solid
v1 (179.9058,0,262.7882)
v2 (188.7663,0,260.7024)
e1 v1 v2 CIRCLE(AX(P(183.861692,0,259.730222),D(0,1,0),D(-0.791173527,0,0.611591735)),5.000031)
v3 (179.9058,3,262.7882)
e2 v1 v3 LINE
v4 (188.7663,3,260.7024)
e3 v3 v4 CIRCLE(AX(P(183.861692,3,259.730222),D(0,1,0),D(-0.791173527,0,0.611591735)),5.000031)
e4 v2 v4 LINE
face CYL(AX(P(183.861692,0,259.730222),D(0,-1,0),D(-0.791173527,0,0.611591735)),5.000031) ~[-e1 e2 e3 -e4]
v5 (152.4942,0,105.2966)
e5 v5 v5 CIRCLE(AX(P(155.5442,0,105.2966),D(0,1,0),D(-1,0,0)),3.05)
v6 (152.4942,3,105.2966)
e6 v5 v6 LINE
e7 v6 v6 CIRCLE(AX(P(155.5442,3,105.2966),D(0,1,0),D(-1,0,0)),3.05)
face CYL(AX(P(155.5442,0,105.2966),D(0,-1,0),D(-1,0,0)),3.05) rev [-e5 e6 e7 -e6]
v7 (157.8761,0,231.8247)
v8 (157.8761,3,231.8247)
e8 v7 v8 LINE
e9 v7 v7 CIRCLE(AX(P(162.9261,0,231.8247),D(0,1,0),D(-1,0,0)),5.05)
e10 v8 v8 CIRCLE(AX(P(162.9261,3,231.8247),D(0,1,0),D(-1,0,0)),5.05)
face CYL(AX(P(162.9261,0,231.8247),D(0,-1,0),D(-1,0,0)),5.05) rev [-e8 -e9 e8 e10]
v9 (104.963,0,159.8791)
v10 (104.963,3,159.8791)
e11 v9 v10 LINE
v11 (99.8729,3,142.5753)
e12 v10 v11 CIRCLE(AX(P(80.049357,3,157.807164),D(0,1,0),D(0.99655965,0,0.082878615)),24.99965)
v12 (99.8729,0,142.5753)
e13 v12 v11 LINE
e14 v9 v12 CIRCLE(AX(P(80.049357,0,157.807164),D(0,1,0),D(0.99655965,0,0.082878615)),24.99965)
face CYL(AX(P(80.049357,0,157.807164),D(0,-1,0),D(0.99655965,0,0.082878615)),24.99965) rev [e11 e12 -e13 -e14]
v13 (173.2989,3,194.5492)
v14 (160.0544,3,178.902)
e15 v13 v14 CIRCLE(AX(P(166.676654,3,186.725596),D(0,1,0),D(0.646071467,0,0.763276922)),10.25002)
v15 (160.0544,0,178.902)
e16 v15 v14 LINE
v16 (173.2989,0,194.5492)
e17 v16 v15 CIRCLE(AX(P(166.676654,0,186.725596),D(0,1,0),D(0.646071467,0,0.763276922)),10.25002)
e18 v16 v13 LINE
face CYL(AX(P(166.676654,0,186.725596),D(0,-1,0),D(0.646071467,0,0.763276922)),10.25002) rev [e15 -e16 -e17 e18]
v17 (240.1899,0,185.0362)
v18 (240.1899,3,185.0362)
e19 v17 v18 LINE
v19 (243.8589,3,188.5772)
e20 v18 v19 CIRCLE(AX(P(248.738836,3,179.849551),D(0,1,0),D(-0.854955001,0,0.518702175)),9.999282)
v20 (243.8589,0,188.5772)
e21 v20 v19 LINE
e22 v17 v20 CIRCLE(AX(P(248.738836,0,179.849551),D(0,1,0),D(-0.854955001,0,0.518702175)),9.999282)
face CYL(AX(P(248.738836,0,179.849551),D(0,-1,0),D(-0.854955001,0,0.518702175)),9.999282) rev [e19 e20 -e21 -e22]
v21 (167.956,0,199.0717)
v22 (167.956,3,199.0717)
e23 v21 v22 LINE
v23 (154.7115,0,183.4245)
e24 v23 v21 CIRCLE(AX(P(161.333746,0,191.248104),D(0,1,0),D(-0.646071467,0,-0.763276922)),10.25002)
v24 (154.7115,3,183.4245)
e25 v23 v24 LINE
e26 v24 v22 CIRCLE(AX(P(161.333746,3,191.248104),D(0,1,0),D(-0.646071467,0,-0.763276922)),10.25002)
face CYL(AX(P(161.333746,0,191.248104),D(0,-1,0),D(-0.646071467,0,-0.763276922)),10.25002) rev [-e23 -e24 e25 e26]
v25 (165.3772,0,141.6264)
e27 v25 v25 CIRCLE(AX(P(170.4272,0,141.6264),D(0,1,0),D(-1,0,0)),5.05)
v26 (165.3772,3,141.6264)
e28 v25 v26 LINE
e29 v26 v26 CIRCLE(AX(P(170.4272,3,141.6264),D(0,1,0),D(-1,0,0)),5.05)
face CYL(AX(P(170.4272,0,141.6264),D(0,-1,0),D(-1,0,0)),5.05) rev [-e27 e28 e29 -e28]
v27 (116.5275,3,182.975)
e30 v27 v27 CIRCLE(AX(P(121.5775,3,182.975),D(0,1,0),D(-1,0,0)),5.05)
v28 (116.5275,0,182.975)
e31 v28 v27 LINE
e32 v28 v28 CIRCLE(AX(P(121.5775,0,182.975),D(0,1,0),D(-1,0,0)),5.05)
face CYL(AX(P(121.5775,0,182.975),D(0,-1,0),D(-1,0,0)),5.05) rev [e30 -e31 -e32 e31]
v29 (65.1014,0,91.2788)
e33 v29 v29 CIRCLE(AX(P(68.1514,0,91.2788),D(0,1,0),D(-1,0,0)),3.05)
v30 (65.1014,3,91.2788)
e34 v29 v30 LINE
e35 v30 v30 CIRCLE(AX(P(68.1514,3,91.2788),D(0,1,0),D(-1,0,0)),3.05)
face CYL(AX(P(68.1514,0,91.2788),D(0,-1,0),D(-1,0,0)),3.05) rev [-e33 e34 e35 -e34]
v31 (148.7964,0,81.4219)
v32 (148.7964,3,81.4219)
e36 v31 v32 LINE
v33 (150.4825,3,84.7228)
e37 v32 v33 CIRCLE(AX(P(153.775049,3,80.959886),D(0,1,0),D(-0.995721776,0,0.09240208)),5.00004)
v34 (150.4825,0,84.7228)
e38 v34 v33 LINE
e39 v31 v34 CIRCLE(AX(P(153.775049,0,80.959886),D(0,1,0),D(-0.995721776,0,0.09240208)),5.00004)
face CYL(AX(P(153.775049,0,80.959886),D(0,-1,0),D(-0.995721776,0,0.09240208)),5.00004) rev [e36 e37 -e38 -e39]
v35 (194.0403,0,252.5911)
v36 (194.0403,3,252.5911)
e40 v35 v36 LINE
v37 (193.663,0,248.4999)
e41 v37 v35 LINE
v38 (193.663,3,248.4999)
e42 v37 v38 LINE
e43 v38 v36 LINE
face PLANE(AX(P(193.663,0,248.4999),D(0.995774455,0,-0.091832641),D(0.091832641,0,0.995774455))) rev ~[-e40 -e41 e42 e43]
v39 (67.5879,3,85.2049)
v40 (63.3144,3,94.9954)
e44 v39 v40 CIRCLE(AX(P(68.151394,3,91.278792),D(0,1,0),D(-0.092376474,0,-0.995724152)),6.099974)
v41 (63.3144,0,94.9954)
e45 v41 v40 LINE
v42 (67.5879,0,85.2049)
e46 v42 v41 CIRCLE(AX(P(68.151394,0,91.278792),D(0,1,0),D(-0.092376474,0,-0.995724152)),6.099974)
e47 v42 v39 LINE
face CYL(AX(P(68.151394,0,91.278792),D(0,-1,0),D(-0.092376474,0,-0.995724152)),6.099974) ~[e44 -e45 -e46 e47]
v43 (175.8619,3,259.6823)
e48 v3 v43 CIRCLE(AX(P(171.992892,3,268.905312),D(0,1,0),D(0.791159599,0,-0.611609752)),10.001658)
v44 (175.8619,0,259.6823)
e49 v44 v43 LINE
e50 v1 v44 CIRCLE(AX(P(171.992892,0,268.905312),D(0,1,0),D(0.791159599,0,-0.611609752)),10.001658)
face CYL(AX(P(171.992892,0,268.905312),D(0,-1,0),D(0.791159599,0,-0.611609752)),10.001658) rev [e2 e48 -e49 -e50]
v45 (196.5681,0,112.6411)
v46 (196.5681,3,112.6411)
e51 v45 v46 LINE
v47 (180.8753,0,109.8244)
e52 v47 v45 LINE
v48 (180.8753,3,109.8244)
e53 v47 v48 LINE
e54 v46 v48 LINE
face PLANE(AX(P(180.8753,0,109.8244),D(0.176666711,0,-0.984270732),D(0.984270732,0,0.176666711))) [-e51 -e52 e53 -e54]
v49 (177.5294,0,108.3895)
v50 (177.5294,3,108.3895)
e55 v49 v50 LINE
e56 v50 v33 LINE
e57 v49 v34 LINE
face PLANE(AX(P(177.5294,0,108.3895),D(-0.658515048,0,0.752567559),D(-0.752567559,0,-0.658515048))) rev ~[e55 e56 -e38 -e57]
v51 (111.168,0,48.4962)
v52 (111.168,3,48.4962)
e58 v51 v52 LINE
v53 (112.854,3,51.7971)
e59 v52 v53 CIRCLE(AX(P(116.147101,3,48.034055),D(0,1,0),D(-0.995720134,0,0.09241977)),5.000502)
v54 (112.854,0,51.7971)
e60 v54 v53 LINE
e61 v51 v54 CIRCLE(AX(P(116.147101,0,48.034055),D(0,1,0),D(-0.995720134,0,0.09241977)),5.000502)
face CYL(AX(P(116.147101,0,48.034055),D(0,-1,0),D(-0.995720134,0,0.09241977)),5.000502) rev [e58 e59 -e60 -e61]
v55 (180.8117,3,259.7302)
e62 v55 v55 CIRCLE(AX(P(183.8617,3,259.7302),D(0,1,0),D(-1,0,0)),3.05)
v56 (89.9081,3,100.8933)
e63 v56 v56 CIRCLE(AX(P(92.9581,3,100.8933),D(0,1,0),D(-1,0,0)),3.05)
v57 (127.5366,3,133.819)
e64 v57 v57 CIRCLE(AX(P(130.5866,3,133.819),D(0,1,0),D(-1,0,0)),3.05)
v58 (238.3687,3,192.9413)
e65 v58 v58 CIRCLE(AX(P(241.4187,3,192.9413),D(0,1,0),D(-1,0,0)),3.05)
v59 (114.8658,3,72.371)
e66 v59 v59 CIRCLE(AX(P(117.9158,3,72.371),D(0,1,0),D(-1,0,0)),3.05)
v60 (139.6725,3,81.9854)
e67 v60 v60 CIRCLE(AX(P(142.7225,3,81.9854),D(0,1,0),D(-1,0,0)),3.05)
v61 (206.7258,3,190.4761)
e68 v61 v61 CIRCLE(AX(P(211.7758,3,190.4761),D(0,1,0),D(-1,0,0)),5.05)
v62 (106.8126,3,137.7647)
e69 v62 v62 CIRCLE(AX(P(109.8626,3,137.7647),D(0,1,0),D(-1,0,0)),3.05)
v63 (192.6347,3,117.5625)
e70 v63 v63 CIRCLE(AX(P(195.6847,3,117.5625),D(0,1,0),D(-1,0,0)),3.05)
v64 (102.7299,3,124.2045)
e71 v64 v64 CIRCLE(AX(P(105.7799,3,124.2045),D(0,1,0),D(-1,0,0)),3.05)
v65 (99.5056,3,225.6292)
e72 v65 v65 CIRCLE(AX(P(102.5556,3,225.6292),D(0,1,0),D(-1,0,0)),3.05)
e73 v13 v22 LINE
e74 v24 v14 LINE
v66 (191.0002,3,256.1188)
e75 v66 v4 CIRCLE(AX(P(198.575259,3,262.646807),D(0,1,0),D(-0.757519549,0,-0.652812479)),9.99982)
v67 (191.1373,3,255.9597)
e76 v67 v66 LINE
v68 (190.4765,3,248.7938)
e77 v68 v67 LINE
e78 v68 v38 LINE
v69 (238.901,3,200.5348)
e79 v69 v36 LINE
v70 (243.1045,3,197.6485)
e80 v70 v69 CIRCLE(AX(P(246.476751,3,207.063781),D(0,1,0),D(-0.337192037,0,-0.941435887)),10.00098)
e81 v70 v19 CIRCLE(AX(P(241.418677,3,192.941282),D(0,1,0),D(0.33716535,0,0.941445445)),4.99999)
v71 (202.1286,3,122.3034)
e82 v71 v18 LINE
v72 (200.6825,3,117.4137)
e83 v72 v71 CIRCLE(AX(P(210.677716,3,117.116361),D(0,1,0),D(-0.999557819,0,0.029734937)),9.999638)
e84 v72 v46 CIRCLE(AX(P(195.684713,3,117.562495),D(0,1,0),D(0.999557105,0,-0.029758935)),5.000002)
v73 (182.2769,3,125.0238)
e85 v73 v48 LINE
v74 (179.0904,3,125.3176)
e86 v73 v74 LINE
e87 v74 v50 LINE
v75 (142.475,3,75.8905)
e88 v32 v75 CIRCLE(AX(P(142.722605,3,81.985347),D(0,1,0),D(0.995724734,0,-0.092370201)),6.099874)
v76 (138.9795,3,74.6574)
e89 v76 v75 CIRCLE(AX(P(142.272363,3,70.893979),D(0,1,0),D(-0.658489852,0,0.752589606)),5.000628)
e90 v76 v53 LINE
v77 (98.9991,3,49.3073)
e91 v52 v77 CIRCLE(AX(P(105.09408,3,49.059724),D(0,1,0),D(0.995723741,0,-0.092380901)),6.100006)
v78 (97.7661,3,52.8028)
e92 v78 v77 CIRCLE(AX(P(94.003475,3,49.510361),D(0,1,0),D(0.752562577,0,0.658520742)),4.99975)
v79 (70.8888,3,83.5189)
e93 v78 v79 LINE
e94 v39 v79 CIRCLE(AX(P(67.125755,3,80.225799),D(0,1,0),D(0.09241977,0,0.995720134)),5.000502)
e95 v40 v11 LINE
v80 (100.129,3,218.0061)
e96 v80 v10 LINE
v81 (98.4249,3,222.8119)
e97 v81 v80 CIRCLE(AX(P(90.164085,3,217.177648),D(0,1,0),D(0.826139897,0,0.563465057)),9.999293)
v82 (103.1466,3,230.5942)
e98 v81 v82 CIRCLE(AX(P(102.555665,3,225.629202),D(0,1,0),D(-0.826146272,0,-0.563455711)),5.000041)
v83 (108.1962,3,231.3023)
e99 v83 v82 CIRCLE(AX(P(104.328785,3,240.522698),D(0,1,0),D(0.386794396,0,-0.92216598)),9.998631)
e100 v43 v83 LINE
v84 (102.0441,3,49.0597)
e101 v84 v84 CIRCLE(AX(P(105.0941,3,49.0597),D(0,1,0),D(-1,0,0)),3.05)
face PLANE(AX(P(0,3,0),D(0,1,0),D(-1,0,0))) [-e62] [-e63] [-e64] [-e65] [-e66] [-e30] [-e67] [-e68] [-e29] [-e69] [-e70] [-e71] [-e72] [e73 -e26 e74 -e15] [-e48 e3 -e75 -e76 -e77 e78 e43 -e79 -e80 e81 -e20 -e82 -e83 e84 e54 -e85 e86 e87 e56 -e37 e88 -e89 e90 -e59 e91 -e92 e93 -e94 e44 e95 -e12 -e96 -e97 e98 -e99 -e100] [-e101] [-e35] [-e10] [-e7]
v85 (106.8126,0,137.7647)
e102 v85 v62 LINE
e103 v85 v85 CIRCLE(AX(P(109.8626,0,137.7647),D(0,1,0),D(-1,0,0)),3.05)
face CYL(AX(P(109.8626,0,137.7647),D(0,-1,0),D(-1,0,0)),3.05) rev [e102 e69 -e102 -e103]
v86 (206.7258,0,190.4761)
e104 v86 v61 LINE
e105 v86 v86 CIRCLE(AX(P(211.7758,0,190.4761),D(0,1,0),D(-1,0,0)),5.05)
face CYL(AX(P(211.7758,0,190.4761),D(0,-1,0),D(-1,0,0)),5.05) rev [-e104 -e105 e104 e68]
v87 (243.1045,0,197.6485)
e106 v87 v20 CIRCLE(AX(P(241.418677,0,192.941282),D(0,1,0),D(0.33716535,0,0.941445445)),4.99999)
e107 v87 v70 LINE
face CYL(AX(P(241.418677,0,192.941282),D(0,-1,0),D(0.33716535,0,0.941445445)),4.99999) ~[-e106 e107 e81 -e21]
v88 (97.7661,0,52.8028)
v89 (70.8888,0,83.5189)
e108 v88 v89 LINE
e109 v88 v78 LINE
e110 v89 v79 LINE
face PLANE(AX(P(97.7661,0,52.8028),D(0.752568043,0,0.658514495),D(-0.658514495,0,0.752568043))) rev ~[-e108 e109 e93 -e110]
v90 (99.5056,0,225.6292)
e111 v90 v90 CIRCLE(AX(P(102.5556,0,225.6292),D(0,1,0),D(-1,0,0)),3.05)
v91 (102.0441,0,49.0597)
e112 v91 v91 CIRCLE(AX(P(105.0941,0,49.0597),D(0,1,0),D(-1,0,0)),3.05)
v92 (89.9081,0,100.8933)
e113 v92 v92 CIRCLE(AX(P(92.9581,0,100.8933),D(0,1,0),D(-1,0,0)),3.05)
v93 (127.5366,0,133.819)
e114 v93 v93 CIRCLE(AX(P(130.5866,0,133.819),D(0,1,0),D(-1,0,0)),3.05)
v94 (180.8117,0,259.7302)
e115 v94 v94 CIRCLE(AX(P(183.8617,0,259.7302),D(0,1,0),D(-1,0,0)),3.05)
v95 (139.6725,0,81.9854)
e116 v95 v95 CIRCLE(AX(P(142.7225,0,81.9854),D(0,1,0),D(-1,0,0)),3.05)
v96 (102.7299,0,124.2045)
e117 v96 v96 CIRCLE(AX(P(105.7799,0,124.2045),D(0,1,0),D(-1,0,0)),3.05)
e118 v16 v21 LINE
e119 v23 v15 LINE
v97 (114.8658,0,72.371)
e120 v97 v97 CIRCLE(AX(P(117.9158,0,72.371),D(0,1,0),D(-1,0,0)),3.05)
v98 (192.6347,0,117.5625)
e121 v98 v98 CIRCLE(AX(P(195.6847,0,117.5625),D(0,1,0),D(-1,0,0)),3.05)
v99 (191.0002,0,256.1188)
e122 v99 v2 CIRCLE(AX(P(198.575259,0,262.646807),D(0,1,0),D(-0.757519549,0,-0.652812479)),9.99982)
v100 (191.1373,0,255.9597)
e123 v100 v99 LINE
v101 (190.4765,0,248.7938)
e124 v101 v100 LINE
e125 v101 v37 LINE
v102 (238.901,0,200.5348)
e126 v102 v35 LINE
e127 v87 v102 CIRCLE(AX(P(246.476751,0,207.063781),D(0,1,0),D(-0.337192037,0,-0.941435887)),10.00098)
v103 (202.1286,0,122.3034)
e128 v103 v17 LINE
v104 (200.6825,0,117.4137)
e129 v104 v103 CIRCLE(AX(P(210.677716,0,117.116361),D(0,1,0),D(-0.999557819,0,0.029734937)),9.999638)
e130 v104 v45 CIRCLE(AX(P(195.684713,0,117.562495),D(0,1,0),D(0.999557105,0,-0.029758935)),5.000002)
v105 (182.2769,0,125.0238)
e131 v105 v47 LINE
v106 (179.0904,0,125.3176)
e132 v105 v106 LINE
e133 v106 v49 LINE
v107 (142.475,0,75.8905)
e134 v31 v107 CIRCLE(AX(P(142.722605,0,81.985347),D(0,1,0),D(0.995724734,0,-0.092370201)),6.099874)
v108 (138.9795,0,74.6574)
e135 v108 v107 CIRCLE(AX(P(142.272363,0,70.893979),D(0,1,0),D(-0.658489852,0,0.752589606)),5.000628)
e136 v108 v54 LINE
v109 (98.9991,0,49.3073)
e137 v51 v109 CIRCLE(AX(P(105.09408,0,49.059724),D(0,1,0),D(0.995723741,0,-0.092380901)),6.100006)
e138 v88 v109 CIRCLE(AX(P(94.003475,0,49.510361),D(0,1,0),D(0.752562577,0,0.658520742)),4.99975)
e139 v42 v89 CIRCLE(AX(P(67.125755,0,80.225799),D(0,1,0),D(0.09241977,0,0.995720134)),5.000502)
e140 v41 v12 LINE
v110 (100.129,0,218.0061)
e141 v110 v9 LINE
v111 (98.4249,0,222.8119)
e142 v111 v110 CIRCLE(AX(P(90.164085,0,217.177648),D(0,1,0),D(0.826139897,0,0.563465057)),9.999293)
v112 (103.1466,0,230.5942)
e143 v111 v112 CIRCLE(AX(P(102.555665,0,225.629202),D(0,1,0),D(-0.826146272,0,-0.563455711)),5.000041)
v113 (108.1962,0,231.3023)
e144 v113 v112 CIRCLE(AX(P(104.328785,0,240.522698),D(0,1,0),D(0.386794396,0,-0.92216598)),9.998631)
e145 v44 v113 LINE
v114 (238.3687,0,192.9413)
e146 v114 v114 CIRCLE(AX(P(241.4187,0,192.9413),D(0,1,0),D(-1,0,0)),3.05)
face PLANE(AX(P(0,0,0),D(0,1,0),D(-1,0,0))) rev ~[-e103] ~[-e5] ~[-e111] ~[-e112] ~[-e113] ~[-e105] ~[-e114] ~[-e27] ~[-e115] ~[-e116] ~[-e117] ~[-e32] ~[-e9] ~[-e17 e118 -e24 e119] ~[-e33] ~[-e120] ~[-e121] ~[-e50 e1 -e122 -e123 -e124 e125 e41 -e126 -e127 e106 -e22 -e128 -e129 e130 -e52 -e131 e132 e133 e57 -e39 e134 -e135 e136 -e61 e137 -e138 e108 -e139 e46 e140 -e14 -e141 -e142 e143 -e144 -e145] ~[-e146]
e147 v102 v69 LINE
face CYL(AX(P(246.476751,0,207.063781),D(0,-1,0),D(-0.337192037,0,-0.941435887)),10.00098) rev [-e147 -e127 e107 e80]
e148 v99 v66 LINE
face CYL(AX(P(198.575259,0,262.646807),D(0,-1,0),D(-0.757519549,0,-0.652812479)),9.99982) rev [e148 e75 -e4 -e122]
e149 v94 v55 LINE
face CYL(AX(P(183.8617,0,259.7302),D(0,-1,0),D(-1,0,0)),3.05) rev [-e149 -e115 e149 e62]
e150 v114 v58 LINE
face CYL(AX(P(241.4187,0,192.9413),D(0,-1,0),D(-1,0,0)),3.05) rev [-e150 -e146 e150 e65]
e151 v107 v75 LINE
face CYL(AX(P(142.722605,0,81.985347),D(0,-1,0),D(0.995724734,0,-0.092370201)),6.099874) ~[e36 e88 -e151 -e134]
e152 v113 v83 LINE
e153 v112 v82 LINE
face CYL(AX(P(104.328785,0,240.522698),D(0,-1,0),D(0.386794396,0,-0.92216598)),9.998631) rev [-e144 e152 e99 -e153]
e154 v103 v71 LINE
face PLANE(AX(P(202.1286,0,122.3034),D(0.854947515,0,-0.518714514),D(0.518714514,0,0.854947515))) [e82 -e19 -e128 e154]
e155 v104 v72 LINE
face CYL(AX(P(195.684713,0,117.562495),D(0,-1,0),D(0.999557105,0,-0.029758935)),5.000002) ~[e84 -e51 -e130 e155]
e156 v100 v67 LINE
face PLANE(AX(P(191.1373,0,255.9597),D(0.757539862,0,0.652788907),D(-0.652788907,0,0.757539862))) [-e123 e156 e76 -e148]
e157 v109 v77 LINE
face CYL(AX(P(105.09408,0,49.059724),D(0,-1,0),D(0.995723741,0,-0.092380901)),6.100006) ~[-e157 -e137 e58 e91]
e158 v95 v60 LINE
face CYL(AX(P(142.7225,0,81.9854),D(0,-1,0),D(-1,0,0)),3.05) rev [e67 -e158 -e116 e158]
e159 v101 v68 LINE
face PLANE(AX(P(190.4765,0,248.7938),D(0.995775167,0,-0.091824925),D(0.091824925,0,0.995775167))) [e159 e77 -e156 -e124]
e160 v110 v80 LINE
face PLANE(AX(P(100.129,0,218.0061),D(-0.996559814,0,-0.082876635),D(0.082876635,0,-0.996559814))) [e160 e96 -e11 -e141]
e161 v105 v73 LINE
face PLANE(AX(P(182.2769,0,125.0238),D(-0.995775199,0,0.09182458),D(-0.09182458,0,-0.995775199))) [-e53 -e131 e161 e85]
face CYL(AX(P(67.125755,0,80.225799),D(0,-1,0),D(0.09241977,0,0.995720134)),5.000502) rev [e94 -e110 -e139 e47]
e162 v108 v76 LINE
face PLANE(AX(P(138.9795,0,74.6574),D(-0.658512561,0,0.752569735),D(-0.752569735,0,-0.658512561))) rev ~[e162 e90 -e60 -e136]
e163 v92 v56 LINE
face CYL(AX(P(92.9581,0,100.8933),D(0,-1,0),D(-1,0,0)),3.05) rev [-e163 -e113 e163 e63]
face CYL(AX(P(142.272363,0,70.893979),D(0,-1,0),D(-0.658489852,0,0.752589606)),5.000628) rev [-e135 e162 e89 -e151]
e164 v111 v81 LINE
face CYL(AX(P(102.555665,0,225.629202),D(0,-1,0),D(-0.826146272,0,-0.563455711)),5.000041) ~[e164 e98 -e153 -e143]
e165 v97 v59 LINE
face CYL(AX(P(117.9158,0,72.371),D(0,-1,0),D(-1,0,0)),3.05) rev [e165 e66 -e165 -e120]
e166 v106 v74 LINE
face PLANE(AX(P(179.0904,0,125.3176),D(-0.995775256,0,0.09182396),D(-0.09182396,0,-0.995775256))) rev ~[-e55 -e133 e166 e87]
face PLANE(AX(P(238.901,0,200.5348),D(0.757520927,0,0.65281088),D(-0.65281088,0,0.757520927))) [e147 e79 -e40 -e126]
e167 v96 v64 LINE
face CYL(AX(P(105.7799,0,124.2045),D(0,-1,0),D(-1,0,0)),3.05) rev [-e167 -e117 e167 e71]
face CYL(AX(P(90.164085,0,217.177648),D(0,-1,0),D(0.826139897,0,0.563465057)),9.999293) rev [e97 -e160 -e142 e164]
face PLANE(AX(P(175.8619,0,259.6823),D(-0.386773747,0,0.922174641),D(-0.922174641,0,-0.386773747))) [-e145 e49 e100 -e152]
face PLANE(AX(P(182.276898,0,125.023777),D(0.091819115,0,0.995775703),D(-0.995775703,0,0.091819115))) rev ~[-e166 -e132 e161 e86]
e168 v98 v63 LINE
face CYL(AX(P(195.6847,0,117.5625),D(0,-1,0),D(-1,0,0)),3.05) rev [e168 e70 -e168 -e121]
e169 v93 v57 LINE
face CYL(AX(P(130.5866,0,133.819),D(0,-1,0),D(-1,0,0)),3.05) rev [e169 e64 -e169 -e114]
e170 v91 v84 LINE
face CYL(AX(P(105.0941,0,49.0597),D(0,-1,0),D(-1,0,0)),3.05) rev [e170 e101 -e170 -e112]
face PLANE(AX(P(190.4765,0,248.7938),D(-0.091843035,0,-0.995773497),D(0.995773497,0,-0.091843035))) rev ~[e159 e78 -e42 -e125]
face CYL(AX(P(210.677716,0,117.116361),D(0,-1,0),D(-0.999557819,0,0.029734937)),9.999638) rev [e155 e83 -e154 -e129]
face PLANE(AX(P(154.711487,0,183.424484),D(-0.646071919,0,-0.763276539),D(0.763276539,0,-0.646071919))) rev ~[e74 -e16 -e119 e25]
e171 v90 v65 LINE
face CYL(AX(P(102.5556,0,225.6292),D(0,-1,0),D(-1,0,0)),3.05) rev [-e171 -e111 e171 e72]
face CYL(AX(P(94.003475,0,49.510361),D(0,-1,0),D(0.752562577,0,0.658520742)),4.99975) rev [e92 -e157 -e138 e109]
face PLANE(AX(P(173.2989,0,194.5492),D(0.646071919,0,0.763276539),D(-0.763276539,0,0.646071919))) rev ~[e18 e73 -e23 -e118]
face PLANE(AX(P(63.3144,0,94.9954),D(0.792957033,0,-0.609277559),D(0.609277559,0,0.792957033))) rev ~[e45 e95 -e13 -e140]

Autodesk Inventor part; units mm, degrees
ref_plane "YZ Plane" through (0, 0, 0) normal (1, 0, 0) x (0, 1, 0)
ref_plane "XZ Plane" through (0, 0, 0) normal (0, 1, 0) x (-1, 0, 0)
ref_plane "XY Plane" through (0, 0, 0) normal (0, 0, 1) x (1, 0, 0)
sketch "Эскиз1" plane through (0, 0, 0) normal (0, 1, 0) x (-1, 0, 0)
  circle A0 centre (-102.5556, 225.6292) radius 3.05
  circle A1 centre (-183.8617, 259.7302) radius 3.05
  circle A2 centre (-241.4187, 192.9413) radius 3.05
  circle A3 centre (-195.6847, 117.5625) radius 3.05
  circle A4 centre (-109.8626, 137.7647) radius 3.05
  line L0 (-177.5294, 108.3895) -> (-150.4825, 84.7228) projected
  arc A5 (-148.7964, 81.4219) -> (-142.475, 75.8905) centre (-142.7225, 81.9854) ccw projected
  line L1 (-138.9795, 74.6574) -> (-112.854, 51.7971) projected
  arc A6 (-111.168, 48.4962) -> (-98.9991, 49.3073) centre (-105.0941, 49.0597) ccw projected
  line L2 (-97.7661, 52.8028) -> (-70.8888, 83.5189) projected
  arc A7 (-67.5879, 85.2049) -> (-63.3144, 94.9954) centre (-68.1514, 91.2788) ccw projected
  line L3 (-63.3144, 94.9954) -> (-108.3131, 153.5599) projected
  arc A8 (-154.5301, 238.9315) -> (-170.0329, 240.2208) centre (-162.9261, 231.8247) ccw projected
  line L4 (-186.8375, 143.9878) -> (-185.285, 127.1516) projected
  arc A9 (-185.285, 127.1516) -> (-183.1128, 124.9467) centre (-183.2964, 126.9383) ccw projected
  line L5 (-183.1128, 124.9467) -> (-179.0904, 125.3176) projected
  line L6 (-179.0904, 125.3176) -> (-177.5294, 108.3895) projected
  circle A10 centre (-117.9158, 72.371) radius 3.05 projected
  circle A11 centre (-155.5442, 105.2966) radius 3.05 projected
  circle A12 centre (-130.5866, 133.819) radius 3.05 projected
  circle A13 centre (-105.7799, 124.2045) radius 3.05 projected
  circle A14 centre (-92.9581, 100.8933) radius 3.05 projected
  circle A15 centre (-162.9261, 231.8247) radius 5.05 projected
  circle A16 centre (-121.5775, 182.975) radius 5.05 projected
  circle A17 centre (-105.0941, 49.0597) radius 3.05 projected
  circle A18 centre (-142.7225, 81.9854) radius 3.05 projected
  circle A19 centre (-68.1514, 91.2788) radius 3.05 projected
  line L7 (-182.2769, 125.0238) -> (-180.8753, 109.8244)
  arc A20 (-179.9058, 262.7882) -> (-188.7663, 260.7024) centre (-183.8617, 259.7302) ccw
  arc A21 (-98.4249, 222.8119) -> (-103.1466, 230.5942) centre (-102.5556, 225.6292) ccw
  arc A22 (-200.6825, 117.4137) -> (-196.2371, 112.5931) centre (-195.6847, 117.5625) ccw
  arc A23 (-243.1045, 197.6485) -> (-243.8589, 188.5772) centre (-241.4187, 192.9413) ccw
  line L8 (-180.8753, 109.8244) -> (-196.5681, 112.6411)
  circle A24 centre (-166.6767, 186.7256) radius 85 construction
  line L9 (-99.8729, 142.5753) -> (-63.3144, 94.9954)
  arc A25 (-104.963, 159.8791) -> (-99.8729, 142.5753) centre (-80.049, 157.8072) ccw
  line L10 (-196.2294, 112.5804) -> (-196.2371, 112.5931)
  line L11 (-202.1286, 122.3034) -> (-240.1899, 185.0362)
  line L12 (-100.129, 218.0061) -> (-104.963, 159.8791)
  line L13 (-175.8619, 259.6823) -> (-108.1962, 231.3023)
  line L14 (-77.9802, 218.6293) -> (-73.529, 216.7624)
  arc A26 (-98.4249, 222.8119) -> (-100.129, 218.0061) centre (-90.1634, 217.1773) ccw
  arc A27 (-108.1962, 231.3023) -> (-103.1466, 230.5942) centre (-104.3284, 240.5241) ccw
  arc A28 (-179.9058, 262.7882) -> (-175.8619, 259.6823) centre (-171.9941, 268.9041) ccw
  arc A29 (-191.0002, 256.1188) -> (-188.7663, 260.7024) centre (-198.5754, 262.6469) ccw
  arc A30 (-243.1045, 197.6485) -> (-238.901, 200.5348) centre (-246.4763, 207.0629) ccw
  arc A31 (-240.1899, 185.0362) -> (-243.8589, 188.5772) centre (-248.7394, 179.8491) ccw
  arc A32 (-200.6825, 117.4137) -> (-202.1286, 122.3034) centre (-210.6781, 117.1163) ccw
  arc A33 (-148.7964, 81.4219) -> (-150.4825, 84.7228) centre (-153.775, 80.9599) ccw projected
  arc A34 (-138.9795, 74.6574) -> (-142.475, 75.8905) centre (-142.272, 70.8946) ccw projected
  arc A35 (-111.168, 48.4962) -> (-112.854, 51.7971) centre (-116.1466, 48.0342) ccw projected
  arc A36 (-97.7661, 52.8028) -> (-98.9991, 49.3073) centre (-94.0032, 49.5102) ccw projected
  arc A37 (-67.5879, 85.2049) -> (-70.8888, 83.5189) centre (-67.1259, 80.2263) ccw projected
  arc A38 (-173.2989, 194.5492) -> (-160.0544, 178.902) centre (-166.6767, 186.7256) ccw projected
  arc A39 (-111.4672, 178.6413) -> (-108.3131, 153.5599) centre (-88.4892, 168.7918) ccw projected
  arc A40 (-111.4672, 178.6413) -> (-113.1815, 190.0818) centre (-121.5775, 182.975) ccw projected
  line L15 (-113.1815, 190.0818) -> (-127.2335, 206.6831) projected
  line L16 (-127.2335, 206.6831) -> (-160.0544, 178.902) projected
  line L17 (-173.2989, 194.5492) -> (-140.478, 222.3303) projected
  line L18 (-140.478, 222.3303) -> (-154.5301, 238.9315) projected
  line L19 (-170.0329, 240.2208) -> (-188.2631, 224.7899) projected
  arc A41 (-218.8826, 198.8722) -> (-220.1719, 183.3693) centre (-211.7758, 190.4761) ccw projected
  line L20 (-220.1719, 183.3693) -> (-186.8375, 143.9878) projected
  circle A42 centre (-170.4272, 141.6264) radius 5.05 projected
  circle A43 centre (-211.7758, 190.4761) radius 5.05 projected
  arc A44 (-154.7115, 183.4245) -> (-167.956, 199.0717) centre (-161.3337, 191.2481) ccw
  line L21 (-220.9265, 180.3759) -> (-221.3765, 181.0768)
  line L22 (-190.4765, 248.7938) -> (-191.1373, 255.9597)
  line L23 (-193.663, 248.4999) -> (-194.0403, 252.5911)
  line L24 (-190.4765, 248.7938) -> (-193.663, 248.4999)
  line L25 (-238.901, 200.5348) -> (-194.0403, 252.5911)
  line L26 (-191.1373, 255.9597) -> (-191.0002, 256.1188)
  line L27 (-188.2631, 224.7899) -> (-187.4464, 215.9332) projected
  line L28 (-187.4464, 215.9332) -> (-190.6328, 215.6393) projected
  line L29 (-190.6328, 215.6393) -> (-191.244, 222.2668) projected
  line L30 (-191.244, 222.2668) -> (-218.8826, 198.8722) projected
  point P0 (0, 0)
  point P1 (-98.7723, 141.1427)
  point P2 (-176.2905, 107.3053)
  point P3 (-200.3475, 119.3677)
  point P4 (-241.9711, 187.9719)
  point P5 (-241.1427, 197.9337)
  point P6 (-179.0284, 261.0104)
  point P7 (-188.7586, 258.72)
  point P8 (-99.8445, 221.4281)
  point P9 (-105.0296, 229.9742)
  point P10 (-99.8729, 142.5753)
  point P11 (-236.553, 192.5367)
  dimension "d5" = 6.1
  dimension "d8" = 360
  dimension "d13" = 3.2
  dimension "d16" = 10
  dimension "d26" = 170
  dimension "d31" = 25
  dimension "d32" = 10
  dimension "d33" = 10
  dimension "d34" = 10
  dimension "d35" = 10
  dimension "d36" = 7
  dimension "d37" = 75
  dimension "d46" = 124
extrude "Выдавливание1" add sketch "Эскиз1" along normal blind 3 contours L6 L5 A9 L4 L20 A41 L30 L29 L28 L27 L19 A8 L18 L17 A38 L16 L15 A40 A39 L3 A7 A37 L2 A36 A6 A35 L1 A34 A5 A33 L0 | L7 L8 L10 A22 A32 L11 A31 A23 A30 L25 L23 L24 L22 L26 A29 A20 A28 L13 A27 A21 A26 L12 A25 L3 A39 A40 L15 L16 A44 L17 L18 A8 L19 L27 L28 L29 L30 A41 L20 L4 A9 L5 | L8 A22 L10
sketch "Эскиз2" plane through (0, 3, 0) normal (0, 1, 0) x (1, 0, 0)
  line L0 (63.3144, -94.9954) -> (99.8729, -142.5753) projected
  arc A0 (104.963, -159.8791) -> (99.8729, -142.5753) centre (80.049, -157.8072) ccw projected
  line L1 (104.963, -159.8791) -> (100.129, -218.0061) projected
  arc A1 (98.4249, -222.8119) -> (100.129, -218.0061) centre (90.1634, -217.1773) ccw projected
  arc A2 (98.4249, -222.8119) -> (103.1466, -230.5942) centre (102.5556, -225.6292) ccw projected
  arc A3 (108.1962, -231.3023) -> (103.1466, -230.5942) centre (104.3284, -240.5241) ccw projected
  line L2 (108.1962, -231.3023) -> (175.8619, -259.6823) projected
  arc A4 (179.9058, -262.7882) -> (175.8619, -259.6823) centre (171.9941, -268.9041) ccw projected
  arc A5 (179.9058, -262.7882) -> (188.7663, -260.7024) centre (183.8617, -259.7302) ccw projected
  arc A6 (191.0002, -256.1188) -> (188.7663, -260.7024) centre (198.5754, -262.6469) ccw projected
  line L3 (194.0403, -252.5911) -> (238.901, -200.5348) projected
  arc A7 (243.1045, -197.6485) -> (238.901, -200.5348) centre (246.4763, -207.0629) ccw projected
  arc A8 (243.1045, -197.6485) -> (243.8589, -188.5772) centre (241.4187, -192.9413) ccw projected
  arc A9 (240.1899, -185.0362) -> (243.8589, -188.5772) centre (248.7394, -179.8491) ccw projected
  line L4 (240.1899, -185.0362) -> (202.1286, -122.3034) projected
  arc A10 (200.6825, -117.4137) -> (202.1286, -122.3034) centre (210.6781, -117.1163) ccw projected
  arc A11 (200.6825, -117.4137) -> (196.5681, -112.6411) centre (195.6847, -117.5625) ccw projected
  line L5 (196.5681, -112.6411) -> (180.8753, -109.8244) projected
  line L6 (180.8753, -109.8244) -> (182.2769, -125.0238) projected
  line L7 (182.2769, -125.0238) -> (179.0904, -125.3176) projected
  line L8 (179.0904, -125.3176) -> (177.5294, -108.3895) projected
  line L9 (177.5294, -108.3895) -> (150.4825, -84.7228) projected
  arc A12 (148.7964, -81.4219) -> (150.4825, -84.7228) centre (153.775, -80.9599) ccw projected
  arc A13 (148.7964, -81.4219) -> (142.475, -75.8905) centre (142.7225, -81.9854) ccw projected
  arc A14 (138.9795, -74.6574) -> (142.475, -75.8905) centre (142.272, -70.8946) ccw projected
  line L10 (138.9795, -74.6574) -> (112.854, -51.7971) projected
  arc A15 (111.168, -48.4962) -> (112.854, -51.7971) centre (116.1466, -48.0342) ccw projected
  arc A16 (111.168, -48.4962) -> (98.9991, -49.3073) centre (105.0941, -49.0597) ccw projected
  arc A17 (97.7661, -52.8028) -> (98.9991, -49.3073) centre (94.0032, -49.5102) ccw projected
  line L11 (97.7661, -52.8028) -> (70.8888, -83.5189) projected
  arc A18 (67.5879, -85.2049) -> (70.8888, -83.5189) centre (67.1259, -80.2263) ccw projected
  arc A19 (67.5879, -85.2049) -> (63.3144, -94.9954) centre (68.1514, -91.2788) ccw projected
  circle A20 centre (109.8626, -137.7647) radius 3.05 projected
  circle A21 centre (117.9158, -72.371) radius 3.05 projected
  circle A22 centre (155.5442, -105.2966) radius 3.05 projected
  circle A23 centre (105.7799, -124.2045) radius 3.05 projected
  circle A24 centre (92.9581, -100.8933) radius 3.05 projected
  circle A25 centre (162.9261, -231.8247) radius 5.05 projected
  circle A26 centre (105.0941, -49.0597) radius 3.05 projected
  circle A27 centre (142.7225, -81.9854) radius 3.05 projected
  circle A28 centre (68.1514, -91.2788) radius 3.05 projected
  circle A29 centre (130.5866, -133.819) radius 3.05 projected
  circle A30 centre (195.6847, -117.5625) radius 3.05 projected
  circle A31 centre (241.4187, -192.9413) radius 3.05 projected
  circle A32 centre (183.8617, -259.7302) radius 3.05 projected
  circle A33 centre (102.5556, -225.6292) radius 3.05 projected
  line L12 (191.0002, -256.1188) -> (191.1373, -255.9597) projected
  line L13 (191.1373, -255.9597) -> (190.4765, -248.7938) projected
  line L14 (190.4765, -248.7938) -> (193.663, -248.4999) projected
  line L15 (193.663, -248.4999) -> (194.0403, -252.5911) projected
  point P0 (0, 0)
equation "\"d5\" = d_main_screw_holes"
equation "\"d2\" = thickness_steel"
equation "\"tolerance_plazma\" = 0.1"
equation "\"thickness_steel\" = 3"
equation "\"d_main_screw_holes\" = 6.1"
equation "\"thickness_profile_tibea\" = 3"
equation "\"hight_shaft_shift\" = 37"
equation "\"thickness_profile_femur\" = 3"
equation "\"width_shaft_shift\" = 35"
equation "\"width_flattened_surface\" = 12"
equation "\"d22\" = d_main_screw_holes"
equation "\"d23\" = d_main_screw_holes"
equation "\"d25\" = d_main_screw_holes"
properties part number "femur_motor_steel" material "Сталь"
